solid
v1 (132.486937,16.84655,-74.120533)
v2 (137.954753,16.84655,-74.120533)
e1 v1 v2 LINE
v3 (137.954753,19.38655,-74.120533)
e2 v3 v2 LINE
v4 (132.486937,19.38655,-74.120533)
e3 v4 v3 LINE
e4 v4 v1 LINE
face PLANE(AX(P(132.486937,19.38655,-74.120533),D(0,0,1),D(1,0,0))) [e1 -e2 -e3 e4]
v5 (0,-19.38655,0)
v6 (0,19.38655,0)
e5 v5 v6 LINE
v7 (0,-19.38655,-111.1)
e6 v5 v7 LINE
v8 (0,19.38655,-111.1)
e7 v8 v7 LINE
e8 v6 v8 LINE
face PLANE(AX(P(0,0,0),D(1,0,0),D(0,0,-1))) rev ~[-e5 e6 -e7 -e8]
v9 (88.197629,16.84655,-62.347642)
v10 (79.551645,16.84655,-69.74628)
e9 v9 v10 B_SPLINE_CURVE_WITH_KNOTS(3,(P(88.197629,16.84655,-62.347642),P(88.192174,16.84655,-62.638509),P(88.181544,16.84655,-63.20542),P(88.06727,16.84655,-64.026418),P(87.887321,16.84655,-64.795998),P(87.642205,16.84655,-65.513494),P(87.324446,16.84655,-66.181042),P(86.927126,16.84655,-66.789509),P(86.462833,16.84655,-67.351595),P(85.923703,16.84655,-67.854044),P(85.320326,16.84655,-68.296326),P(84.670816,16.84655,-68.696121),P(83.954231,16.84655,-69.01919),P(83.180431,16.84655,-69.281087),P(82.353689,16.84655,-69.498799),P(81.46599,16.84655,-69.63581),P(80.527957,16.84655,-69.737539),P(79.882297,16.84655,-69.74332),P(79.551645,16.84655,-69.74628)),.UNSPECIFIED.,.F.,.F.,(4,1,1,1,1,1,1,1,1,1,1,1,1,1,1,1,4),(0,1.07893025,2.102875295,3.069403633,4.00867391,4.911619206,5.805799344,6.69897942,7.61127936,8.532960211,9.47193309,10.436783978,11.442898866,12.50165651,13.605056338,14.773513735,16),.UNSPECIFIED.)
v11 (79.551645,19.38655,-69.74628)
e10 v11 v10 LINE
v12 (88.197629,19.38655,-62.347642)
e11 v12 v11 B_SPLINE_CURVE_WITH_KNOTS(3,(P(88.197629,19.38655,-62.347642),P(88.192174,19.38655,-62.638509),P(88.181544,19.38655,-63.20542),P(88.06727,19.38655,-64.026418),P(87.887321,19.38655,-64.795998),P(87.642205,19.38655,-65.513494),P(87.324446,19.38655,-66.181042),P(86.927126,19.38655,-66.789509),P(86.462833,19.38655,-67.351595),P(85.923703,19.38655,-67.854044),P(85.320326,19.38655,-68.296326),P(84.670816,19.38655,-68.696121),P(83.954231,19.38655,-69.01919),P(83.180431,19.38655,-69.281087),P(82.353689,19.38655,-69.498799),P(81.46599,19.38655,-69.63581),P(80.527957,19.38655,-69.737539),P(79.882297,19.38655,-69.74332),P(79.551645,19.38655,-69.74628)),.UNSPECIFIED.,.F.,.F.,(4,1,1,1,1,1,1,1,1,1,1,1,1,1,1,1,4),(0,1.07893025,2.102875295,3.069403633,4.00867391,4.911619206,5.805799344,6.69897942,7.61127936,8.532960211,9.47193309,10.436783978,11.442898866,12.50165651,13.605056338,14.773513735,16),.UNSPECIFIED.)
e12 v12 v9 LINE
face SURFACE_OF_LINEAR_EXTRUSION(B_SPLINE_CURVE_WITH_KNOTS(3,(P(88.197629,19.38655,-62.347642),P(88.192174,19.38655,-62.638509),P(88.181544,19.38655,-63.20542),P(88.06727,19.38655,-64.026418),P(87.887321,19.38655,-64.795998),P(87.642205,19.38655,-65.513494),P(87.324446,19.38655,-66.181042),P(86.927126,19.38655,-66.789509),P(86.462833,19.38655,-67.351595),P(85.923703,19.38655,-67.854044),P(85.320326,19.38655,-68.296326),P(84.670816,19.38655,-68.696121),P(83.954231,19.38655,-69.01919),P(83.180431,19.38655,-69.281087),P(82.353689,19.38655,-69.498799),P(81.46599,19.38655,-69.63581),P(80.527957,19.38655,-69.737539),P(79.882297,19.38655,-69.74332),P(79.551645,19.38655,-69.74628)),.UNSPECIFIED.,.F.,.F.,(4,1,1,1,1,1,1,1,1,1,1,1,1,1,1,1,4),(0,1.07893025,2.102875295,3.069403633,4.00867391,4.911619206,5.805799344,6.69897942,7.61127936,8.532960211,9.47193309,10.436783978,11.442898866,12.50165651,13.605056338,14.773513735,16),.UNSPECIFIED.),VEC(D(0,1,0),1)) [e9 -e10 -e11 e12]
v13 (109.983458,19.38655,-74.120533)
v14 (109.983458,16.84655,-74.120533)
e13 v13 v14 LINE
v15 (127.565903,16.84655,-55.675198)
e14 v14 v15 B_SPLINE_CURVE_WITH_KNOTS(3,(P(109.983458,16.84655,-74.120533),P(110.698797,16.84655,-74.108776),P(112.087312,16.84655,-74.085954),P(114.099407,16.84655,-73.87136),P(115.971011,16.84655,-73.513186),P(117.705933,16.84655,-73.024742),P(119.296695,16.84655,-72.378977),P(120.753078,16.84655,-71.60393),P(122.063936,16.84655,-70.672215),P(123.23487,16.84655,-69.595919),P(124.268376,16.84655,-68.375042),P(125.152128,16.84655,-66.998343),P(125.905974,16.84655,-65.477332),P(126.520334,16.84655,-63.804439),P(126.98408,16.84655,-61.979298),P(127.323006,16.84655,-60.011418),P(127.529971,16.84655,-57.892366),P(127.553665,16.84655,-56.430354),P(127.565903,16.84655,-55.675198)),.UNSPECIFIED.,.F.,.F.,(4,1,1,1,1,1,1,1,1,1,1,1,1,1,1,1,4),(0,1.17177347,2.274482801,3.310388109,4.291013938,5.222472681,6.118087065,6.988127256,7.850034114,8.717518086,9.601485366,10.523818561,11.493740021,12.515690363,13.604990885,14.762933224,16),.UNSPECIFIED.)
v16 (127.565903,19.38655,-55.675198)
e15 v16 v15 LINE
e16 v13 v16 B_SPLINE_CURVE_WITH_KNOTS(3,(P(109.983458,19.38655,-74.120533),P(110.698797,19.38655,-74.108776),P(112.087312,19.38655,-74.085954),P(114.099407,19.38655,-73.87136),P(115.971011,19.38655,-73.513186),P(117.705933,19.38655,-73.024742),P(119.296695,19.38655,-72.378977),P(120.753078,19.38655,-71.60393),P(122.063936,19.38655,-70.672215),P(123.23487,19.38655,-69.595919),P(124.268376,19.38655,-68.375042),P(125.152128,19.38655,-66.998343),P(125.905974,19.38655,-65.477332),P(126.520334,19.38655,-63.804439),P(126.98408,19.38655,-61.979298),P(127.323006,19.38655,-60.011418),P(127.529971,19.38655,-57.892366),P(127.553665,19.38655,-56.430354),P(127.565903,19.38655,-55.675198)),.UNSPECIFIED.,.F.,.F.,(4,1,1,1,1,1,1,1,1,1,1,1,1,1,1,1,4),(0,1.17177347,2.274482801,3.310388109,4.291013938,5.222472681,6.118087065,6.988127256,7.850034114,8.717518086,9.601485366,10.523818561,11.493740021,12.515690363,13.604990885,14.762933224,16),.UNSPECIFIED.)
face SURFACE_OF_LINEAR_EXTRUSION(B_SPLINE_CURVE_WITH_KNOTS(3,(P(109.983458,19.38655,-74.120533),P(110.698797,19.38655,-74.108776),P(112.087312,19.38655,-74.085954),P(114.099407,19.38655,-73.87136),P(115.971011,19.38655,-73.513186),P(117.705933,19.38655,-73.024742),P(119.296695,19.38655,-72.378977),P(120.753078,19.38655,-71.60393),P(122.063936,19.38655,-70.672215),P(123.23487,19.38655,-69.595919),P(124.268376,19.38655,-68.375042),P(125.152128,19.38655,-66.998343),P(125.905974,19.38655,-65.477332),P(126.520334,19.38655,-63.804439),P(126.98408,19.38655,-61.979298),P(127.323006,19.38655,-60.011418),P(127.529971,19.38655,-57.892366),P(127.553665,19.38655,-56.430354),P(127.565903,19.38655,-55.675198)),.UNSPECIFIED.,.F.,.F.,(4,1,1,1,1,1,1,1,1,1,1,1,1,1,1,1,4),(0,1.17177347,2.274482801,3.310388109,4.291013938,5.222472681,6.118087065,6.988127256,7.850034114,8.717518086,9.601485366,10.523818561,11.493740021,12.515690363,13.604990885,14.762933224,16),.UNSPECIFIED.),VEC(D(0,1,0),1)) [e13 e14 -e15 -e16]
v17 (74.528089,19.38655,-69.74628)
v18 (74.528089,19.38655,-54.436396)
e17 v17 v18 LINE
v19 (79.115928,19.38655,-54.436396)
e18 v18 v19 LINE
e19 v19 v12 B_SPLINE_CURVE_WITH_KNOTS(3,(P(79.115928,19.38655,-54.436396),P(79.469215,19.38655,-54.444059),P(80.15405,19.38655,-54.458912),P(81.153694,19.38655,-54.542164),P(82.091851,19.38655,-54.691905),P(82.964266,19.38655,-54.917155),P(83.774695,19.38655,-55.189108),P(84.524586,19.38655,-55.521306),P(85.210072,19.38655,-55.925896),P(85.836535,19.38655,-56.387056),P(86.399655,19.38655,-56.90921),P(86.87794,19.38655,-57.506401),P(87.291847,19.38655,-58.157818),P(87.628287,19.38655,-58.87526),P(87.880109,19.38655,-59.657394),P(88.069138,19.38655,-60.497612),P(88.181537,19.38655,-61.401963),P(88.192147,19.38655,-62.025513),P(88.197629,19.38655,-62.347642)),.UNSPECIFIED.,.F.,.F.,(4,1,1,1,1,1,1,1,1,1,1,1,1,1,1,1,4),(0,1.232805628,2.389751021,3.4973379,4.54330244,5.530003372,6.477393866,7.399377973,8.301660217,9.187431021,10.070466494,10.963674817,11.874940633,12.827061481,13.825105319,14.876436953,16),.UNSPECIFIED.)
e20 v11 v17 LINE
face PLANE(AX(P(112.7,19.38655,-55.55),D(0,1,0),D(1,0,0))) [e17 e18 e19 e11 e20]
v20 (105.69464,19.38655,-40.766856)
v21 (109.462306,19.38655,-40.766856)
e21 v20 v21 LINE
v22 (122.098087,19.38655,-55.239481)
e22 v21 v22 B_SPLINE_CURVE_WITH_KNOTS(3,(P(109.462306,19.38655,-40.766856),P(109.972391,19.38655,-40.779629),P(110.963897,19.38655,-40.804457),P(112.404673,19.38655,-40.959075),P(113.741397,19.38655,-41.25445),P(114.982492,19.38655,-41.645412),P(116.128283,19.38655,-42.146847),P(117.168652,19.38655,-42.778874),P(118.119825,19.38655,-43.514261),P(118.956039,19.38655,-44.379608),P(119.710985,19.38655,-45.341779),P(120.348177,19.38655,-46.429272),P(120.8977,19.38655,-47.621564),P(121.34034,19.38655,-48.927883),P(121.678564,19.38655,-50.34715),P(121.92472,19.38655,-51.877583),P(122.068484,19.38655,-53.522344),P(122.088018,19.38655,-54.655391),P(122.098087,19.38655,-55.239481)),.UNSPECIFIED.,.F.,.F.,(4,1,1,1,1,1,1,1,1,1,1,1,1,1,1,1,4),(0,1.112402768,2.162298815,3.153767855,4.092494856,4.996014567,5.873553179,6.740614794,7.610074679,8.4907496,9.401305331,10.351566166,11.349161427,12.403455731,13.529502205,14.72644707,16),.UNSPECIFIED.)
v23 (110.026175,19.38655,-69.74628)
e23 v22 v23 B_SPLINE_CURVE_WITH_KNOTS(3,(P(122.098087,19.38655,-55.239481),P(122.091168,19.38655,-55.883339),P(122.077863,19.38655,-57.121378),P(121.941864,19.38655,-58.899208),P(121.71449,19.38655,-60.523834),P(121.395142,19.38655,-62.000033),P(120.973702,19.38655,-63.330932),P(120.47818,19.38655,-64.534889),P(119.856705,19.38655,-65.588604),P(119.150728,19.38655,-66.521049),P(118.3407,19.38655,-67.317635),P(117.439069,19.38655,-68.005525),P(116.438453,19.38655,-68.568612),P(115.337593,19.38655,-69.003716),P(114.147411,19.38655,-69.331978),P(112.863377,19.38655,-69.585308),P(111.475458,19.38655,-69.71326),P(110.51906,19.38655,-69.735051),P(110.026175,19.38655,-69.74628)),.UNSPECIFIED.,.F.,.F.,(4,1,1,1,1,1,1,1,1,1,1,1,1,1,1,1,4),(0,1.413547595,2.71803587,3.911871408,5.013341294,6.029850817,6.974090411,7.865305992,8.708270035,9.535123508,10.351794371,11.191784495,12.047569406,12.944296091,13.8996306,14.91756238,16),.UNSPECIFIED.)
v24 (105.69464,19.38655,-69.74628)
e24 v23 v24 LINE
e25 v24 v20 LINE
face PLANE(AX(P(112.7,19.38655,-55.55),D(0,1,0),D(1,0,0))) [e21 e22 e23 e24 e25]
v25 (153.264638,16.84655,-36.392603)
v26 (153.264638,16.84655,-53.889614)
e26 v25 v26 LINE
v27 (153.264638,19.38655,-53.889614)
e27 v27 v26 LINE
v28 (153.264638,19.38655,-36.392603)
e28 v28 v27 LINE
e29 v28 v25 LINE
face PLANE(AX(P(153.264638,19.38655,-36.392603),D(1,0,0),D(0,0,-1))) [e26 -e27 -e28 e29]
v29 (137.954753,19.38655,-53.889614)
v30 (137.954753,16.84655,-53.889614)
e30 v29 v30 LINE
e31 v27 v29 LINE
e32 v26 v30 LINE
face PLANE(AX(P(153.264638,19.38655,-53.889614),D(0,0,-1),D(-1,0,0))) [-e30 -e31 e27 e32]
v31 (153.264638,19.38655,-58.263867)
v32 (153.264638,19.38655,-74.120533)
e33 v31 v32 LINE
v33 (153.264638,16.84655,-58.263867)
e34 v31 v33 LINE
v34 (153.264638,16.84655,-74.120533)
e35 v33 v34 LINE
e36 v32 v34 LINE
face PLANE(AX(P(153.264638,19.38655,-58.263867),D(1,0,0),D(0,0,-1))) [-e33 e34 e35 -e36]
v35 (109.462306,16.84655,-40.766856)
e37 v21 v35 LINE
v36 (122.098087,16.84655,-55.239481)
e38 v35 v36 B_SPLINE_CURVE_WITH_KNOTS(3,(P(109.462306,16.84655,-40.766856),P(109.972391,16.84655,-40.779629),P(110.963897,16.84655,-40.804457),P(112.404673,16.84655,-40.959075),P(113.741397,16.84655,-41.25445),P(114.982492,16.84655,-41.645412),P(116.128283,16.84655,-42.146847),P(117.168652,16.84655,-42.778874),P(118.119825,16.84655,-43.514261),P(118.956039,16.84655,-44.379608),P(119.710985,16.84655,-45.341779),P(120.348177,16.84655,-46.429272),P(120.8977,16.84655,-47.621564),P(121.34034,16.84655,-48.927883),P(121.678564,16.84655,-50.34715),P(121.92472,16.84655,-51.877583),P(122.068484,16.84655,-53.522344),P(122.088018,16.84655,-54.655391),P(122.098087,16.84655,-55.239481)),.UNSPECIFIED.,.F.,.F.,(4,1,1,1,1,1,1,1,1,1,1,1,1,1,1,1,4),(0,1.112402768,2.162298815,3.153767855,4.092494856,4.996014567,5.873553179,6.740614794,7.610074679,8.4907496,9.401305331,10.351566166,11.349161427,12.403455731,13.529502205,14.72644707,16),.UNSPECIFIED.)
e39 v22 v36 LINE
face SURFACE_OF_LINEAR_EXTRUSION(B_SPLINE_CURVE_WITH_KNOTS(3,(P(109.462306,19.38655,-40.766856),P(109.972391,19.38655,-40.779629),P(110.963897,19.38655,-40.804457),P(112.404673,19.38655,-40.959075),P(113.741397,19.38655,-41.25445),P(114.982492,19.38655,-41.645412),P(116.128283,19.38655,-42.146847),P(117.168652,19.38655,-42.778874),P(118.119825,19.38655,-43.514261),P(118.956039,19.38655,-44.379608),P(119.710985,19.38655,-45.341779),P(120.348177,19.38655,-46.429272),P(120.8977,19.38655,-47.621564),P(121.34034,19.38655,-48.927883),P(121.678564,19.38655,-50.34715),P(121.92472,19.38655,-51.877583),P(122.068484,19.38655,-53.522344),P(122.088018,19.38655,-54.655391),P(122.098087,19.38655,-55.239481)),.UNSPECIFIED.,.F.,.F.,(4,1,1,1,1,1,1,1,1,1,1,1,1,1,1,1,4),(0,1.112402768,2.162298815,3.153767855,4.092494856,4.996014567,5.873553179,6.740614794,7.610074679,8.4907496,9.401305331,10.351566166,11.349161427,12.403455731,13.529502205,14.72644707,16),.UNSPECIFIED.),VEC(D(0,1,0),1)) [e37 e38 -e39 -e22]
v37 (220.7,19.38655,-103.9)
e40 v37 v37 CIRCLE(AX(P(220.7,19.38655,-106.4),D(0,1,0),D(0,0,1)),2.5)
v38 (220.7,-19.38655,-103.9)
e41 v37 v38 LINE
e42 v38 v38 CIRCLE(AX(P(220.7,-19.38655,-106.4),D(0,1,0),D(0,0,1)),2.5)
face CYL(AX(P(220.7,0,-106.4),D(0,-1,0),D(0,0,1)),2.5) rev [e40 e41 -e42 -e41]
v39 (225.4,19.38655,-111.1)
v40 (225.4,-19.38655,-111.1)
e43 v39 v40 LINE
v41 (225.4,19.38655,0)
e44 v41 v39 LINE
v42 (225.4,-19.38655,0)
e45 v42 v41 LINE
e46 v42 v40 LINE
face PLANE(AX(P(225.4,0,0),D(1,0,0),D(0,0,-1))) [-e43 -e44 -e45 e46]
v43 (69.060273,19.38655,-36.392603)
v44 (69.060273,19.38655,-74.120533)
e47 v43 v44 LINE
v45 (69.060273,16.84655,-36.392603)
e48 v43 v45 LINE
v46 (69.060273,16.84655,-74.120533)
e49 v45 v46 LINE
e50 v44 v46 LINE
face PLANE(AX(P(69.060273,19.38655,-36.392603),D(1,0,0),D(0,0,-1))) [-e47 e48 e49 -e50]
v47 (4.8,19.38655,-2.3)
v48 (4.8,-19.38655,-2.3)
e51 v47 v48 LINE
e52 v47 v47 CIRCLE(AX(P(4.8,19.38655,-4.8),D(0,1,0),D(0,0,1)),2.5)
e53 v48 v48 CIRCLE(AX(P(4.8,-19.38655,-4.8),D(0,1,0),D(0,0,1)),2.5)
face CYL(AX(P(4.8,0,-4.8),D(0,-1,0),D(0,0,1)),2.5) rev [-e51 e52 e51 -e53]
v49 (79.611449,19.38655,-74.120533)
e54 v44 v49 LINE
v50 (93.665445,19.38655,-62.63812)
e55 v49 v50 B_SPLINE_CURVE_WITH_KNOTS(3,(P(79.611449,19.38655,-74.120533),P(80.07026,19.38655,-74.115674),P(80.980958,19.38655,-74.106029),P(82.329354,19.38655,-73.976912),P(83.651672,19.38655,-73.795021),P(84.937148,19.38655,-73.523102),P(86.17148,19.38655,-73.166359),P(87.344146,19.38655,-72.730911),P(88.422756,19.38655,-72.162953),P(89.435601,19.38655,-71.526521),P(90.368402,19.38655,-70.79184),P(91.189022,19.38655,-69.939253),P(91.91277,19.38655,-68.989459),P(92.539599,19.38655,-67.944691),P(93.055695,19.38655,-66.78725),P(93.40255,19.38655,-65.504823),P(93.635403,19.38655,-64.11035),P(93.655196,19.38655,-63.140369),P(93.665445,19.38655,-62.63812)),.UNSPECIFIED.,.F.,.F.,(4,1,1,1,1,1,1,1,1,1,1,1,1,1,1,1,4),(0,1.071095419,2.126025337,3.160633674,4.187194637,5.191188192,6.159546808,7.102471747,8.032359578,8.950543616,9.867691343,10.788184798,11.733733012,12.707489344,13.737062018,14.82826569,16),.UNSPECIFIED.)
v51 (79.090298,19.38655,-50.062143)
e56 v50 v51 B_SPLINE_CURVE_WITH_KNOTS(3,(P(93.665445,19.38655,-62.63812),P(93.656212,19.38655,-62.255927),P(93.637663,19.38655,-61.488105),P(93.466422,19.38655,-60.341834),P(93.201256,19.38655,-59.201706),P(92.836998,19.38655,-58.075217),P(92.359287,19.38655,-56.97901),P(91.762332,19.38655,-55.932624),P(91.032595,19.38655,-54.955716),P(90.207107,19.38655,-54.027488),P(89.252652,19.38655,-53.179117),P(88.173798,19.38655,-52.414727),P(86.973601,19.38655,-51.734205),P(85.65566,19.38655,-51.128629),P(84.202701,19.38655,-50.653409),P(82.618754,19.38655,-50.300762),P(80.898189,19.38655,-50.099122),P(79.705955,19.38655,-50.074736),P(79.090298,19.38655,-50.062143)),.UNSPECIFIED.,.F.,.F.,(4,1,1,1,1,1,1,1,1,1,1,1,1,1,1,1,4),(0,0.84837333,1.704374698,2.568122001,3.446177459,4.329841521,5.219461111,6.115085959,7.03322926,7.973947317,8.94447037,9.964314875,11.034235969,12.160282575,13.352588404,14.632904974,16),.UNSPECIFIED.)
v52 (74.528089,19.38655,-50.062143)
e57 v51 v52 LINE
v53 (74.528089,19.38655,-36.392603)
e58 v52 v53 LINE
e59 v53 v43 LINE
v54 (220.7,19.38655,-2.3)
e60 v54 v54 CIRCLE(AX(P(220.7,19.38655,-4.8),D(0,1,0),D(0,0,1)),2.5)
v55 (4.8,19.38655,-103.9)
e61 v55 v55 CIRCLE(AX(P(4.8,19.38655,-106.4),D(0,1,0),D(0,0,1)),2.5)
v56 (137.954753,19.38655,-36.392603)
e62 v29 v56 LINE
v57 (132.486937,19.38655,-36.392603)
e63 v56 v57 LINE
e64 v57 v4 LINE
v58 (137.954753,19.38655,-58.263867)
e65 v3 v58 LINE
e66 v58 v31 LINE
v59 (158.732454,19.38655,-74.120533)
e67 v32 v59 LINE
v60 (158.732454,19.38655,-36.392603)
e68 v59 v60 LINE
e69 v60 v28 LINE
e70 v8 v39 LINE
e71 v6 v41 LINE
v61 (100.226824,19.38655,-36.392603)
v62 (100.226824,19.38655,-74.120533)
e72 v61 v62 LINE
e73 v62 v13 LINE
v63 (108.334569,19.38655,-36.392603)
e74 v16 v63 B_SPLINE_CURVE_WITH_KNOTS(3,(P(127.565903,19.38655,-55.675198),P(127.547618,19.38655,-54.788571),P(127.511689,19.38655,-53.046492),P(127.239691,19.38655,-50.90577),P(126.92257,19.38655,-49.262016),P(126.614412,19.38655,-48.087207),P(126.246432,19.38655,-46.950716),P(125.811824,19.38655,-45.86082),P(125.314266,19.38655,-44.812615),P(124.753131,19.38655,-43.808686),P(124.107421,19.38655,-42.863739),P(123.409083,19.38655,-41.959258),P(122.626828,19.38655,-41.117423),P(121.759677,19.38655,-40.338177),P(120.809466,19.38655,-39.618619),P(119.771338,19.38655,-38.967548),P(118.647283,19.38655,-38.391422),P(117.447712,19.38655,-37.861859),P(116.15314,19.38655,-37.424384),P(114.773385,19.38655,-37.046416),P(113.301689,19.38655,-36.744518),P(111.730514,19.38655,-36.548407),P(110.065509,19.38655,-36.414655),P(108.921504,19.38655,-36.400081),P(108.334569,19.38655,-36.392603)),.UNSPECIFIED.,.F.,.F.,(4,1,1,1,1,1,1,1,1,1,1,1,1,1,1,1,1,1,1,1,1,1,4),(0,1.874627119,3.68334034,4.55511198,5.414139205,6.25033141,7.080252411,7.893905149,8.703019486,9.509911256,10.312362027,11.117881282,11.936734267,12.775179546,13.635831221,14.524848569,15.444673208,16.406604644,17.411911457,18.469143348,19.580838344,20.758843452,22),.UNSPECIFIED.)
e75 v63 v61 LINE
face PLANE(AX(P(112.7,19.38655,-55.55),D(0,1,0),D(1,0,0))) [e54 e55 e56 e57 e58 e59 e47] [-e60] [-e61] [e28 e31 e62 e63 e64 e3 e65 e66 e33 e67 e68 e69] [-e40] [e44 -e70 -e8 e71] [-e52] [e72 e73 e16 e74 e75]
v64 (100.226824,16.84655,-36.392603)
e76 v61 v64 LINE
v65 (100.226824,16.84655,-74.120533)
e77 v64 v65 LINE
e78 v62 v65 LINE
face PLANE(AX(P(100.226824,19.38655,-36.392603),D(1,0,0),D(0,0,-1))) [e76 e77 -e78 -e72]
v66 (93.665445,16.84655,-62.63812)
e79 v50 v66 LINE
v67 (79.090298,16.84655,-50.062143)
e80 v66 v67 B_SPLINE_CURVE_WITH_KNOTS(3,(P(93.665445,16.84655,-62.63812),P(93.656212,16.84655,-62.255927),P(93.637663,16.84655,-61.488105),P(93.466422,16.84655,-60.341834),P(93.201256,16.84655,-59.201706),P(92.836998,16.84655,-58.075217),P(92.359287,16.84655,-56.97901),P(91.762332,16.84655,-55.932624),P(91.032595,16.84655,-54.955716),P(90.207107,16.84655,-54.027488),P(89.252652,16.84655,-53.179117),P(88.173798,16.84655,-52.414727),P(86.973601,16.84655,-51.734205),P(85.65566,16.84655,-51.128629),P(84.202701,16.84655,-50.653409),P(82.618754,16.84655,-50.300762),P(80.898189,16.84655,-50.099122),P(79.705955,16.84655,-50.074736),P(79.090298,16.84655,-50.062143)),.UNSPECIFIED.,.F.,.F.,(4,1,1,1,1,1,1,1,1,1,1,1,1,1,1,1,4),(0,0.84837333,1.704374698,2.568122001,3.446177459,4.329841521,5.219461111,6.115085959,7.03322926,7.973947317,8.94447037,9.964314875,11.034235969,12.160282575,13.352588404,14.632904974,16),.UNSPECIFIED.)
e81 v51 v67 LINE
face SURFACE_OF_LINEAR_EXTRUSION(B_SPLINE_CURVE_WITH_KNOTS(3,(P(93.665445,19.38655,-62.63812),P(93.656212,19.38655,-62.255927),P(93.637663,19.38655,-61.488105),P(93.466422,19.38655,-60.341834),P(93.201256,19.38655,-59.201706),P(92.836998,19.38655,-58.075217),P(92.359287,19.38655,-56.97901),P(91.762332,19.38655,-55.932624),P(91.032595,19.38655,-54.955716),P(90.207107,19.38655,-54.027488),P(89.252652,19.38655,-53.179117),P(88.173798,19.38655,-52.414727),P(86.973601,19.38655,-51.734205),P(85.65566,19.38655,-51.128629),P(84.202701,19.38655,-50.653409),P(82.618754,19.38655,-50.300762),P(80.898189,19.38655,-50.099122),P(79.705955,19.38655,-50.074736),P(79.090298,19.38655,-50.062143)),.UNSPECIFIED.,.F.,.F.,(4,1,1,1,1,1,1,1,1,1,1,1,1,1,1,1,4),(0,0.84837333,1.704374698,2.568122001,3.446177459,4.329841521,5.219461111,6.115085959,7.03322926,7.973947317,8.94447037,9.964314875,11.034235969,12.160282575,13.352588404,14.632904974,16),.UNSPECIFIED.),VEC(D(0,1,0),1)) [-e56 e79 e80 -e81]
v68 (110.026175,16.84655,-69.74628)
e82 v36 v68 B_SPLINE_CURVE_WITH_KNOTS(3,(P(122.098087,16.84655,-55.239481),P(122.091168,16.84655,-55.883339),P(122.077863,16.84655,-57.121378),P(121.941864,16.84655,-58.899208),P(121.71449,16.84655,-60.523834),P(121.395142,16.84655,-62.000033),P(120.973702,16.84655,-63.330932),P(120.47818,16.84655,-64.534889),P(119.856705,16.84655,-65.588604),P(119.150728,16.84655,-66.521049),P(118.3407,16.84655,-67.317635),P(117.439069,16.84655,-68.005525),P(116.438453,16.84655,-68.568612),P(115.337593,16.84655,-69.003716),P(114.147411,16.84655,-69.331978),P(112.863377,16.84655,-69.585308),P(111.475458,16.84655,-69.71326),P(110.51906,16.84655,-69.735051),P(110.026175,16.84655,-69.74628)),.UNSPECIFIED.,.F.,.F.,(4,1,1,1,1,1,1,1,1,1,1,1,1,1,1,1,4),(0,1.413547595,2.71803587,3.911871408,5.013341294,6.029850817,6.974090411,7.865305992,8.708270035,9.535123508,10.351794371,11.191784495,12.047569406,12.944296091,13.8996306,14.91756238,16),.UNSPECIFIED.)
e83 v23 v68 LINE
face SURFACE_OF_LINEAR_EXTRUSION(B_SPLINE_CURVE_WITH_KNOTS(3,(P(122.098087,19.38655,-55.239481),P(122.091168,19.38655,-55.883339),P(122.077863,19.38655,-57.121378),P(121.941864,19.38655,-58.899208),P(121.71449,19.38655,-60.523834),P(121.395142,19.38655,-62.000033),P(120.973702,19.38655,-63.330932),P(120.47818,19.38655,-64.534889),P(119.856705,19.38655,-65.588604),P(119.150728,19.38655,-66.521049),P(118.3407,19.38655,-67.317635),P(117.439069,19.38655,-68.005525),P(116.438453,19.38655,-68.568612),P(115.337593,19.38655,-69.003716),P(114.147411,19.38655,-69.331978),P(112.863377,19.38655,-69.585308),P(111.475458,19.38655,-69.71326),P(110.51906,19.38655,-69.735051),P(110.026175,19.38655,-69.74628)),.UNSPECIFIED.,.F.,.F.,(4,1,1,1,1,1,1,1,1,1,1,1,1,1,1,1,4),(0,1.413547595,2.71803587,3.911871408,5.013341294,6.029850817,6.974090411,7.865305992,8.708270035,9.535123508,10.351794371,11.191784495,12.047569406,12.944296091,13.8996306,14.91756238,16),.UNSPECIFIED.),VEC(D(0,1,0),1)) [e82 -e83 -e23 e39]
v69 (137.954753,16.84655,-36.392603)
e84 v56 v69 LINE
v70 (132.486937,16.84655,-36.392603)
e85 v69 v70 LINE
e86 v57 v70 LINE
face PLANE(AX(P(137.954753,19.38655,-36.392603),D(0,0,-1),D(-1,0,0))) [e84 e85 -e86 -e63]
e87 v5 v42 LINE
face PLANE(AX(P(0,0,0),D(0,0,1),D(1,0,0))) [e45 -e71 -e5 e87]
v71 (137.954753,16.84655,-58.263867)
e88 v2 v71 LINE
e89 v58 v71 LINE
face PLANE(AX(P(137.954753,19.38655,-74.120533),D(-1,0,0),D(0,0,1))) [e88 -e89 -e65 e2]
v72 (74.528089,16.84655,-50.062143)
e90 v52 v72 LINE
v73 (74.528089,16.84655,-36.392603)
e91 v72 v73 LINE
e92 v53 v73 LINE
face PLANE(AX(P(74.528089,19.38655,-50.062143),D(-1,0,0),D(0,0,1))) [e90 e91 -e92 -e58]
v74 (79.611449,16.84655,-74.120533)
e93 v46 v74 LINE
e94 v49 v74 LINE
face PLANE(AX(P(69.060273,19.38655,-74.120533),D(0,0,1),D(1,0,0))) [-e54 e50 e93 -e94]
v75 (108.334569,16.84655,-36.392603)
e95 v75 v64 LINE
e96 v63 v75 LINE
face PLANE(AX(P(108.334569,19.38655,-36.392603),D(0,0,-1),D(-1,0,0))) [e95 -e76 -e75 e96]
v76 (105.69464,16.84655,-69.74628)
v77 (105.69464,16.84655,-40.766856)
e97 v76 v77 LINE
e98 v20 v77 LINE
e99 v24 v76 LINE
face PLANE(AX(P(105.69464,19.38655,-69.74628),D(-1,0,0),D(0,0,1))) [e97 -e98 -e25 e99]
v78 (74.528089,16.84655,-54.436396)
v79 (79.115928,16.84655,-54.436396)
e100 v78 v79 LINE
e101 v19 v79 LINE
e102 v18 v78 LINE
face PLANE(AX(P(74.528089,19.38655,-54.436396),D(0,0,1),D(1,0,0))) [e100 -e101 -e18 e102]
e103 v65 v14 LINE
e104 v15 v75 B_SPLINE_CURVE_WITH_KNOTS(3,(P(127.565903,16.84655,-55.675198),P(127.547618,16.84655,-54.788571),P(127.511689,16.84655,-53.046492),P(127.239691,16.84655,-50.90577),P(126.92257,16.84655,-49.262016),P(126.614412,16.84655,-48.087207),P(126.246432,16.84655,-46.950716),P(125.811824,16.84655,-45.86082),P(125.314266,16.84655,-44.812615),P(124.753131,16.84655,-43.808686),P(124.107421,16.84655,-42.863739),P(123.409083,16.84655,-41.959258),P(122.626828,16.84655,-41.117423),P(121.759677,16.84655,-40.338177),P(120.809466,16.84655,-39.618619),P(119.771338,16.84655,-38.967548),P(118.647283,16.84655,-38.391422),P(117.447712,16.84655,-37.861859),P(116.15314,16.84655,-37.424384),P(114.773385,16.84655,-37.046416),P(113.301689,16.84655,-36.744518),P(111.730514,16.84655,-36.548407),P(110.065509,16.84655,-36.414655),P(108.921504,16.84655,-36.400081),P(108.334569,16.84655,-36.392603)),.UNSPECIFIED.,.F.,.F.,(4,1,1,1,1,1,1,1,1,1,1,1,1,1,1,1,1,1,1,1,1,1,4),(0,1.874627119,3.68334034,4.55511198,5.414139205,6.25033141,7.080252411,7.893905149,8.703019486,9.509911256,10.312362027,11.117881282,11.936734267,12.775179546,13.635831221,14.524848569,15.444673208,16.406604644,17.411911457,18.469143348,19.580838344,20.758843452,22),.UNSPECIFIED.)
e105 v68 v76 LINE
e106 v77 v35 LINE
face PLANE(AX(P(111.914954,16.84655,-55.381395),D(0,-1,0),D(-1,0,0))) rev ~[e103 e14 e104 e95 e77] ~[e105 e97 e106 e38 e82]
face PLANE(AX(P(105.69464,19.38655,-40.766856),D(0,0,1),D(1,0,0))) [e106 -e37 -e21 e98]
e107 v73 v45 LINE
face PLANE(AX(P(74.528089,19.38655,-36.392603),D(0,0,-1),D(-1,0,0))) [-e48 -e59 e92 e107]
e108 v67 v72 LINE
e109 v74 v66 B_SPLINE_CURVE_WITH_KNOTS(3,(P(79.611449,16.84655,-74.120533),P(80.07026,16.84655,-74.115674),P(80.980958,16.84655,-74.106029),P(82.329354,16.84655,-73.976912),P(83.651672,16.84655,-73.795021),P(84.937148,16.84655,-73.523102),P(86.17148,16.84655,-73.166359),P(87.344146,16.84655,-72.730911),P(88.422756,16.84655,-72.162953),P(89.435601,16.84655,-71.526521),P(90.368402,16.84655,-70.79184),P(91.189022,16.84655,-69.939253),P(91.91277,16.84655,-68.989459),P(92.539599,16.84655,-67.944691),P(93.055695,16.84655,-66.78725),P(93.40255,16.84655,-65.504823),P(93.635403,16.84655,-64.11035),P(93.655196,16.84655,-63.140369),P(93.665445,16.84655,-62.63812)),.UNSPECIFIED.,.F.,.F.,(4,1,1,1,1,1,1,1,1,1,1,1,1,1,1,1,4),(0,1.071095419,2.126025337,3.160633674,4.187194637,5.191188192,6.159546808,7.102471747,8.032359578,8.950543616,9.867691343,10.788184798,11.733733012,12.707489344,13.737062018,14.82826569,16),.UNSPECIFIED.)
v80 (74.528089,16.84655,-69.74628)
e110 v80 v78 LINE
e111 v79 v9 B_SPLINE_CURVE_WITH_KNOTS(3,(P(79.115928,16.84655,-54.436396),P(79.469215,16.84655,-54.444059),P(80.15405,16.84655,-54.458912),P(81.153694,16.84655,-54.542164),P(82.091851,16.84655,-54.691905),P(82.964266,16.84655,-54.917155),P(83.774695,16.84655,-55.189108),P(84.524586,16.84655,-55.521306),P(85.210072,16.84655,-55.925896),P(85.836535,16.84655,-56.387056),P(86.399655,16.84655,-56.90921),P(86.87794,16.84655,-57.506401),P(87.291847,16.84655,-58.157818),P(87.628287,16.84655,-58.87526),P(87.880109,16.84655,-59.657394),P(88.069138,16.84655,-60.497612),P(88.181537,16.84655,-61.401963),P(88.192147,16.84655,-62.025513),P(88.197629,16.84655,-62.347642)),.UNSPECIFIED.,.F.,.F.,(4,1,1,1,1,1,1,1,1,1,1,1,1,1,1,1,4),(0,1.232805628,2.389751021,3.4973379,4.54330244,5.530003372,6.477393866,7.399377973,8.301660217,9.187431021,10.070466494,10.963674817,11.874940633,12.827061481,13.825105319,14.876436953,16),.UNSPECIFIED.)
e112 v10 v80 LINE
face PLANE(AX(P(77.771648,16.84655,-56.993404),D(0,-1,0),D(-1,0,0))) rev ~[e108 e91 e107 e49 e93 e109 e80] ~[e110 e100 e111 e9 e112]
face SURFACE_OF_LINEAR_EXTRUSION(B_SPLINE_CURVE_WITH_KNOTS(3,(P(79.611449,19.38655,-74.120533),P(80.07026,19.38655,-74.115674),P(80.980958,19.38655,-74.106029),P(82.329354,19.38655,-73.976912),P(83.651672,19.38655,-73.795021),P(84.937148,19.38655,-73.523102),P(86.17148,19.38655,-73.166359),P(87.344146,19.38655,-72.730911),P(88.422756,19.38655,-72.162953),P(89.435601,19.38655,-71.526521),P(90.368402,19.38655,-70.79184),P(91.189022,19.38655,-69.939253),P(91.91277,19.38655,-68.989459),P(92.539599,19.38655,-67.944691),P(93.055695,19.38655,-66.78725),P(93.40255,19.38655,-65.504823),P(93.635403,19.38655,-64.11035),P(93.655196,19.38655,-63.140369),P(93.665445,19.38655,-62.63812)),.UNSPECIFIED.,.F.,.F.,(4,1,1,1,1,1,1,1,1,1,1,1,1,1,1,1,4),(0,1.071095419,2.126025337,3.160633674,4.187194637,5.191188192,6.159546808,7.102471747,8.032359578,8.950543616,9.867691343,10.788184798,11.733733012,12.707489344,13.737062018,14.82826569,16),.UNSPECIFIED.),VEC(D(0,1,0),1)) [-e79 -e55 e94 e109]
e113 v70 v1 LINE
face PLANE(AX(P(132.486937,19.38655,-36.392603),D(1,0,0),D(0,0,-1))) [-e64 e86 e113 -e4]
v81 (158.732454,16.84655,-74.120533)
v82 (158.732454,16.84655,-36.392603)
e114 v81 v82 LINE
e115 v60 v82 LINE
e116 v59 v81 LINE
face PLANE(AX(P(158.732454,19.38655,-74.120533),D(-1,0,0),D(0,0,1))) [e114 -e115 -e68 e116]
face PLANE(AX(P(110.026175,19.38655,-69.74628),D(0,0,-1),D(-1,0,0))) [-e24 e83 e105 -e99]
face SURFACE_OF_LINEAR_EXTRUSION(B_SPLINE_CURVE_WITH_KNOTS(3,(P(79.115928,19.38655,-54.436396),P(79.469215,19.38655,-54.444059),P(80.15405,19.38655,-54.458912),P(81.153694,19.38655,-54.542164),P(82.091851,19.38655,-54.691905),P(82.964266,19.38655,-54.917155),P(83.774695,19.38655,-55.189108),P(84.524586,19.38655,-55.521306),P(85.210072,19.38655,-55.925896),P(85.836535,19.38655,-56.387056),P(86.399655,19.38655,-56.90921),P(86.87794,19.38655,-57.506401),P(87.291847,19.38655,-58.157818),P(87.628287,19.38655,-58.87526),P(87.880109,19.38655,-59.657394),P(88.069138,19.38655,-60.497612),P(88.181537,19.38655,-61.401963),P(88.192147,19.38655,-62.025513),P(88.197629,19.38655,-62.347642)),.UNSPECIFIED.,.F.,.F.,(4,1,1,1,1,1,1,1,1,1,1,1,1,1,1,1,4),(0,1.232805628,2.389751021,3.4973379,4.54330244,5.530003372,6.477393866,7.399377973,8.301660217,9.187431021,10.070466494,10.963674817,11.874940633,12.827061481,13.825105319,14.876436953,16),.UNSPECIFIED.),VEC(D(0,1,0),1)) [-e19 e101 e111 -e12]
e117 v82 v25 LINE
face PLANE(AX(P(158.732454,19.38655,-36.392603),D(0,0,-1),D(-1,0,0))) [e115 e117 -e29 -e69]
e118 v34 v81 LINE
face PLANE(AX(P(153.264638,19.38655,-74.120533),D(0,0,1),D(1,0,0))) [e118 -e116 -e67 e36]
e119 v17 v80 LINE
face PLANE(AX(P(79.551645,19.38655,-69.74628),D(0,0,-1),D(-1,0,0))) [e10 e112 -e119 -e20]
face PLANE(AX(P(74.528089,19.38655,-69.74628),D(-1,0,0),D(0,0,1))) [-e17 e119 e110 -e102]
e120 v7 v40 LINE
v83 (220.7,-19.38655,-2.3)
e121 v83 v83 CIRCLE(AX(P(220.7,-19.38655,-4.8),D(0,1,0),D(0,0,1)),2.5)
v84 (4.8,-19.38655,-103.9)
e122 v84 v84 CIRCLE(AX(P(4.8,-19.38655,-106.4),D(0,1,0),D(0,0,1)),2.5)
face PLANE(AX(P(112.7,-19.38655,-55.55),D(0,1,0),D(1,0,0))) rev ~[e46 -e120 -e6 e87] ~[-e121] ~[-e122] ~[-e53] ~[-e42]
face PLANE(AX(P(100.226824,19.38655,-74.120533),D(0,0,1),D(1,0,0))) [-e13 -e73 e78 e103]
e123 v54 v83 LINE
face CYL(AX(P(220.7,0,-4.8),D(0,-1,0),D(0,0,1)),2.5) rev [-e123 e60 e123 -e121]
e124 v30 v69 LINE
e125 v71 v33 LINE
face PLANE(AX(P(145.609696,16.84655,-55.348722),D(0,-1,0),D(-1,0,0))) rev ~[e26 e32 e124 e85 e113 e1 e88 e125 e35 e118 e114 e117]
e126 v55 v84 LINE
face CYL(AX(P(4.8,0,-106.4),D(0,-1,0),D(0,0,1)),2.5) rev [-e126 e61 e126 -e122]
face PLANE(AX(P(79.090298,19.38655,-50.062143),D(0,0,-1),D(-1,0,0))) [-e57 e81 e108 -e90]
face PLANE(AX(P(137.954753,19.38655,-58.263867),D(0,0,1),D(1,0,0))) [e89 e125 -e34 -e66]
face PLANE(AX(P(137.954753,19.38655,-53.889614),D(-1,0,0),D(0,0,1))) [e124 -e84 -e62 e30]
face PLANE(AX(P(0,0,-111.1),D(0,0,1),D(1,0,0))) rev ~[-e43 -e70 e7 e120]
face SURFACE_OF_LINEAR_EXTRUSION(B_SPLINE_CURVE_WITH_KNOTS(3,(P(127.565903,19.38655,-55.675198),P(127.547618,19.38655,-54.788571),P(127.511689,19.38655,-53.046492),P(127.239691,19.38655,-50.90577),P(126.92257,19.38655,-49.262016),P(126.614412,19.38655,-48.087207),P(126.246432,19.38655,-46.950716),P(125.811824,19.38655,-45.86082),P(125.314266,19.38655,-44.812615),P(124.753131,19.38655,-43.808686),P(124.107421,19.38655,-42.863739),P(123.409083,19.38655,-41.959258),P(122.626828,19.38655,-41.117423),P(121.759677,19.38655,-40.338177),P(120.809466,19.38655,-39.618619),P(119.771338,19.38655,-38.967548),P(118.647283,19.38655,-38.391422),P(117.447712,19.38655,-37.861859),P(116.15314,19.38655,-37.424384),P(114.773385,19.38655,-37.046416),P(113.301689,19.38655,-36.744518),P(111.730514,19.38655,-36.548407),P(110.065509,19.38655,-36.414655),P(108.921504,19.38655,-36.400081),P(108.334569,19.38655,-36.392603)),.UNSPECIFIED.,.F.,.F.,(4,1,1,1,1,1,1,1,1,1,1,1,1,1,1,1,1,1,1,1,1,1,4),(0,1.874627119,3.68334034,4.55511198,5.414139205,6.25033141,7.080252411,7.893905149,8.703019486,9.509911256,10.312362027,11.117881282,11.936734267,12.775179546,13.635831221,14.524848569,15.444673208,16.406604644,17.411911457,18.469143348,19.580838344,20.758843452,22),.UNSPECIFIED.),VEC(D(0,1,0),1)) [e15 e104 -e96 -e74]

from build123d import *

# Parameters (mm, degrees)
SKETCH1_W           = 225.40000005
SKETCH1_H           = 111.10000005
SKETCH1_R           = 2.499999953
BOSS_EXTRUDE1_DEPTH = 19.38655
CUT_EXTRUDE1_DEPTH  = 2.54


with BuildPart() as part:
    # Sketch1 → Boss-Extrude1 (new, symmetric)
    with BuildSketch(Plane(origin=(0, 0, 0), x_dir=(1, 0, 0), z_dir=(0, 1, 0))):
        with Locations((112.700000025, 55.550000025)):
            Rectangle(SKETCH1_W, SKETCH1_H)
        with Locations(Location((4.800000052, 4.800000052, 0), (0, 0, 270))):
            Circle(SKETCH1_R, mode=Mode.SUBTRACT)
        with Locations(Location((4.800000052, 106.400000052, 0), (0, 0, 270))):
            Circle(SKETCH1_R, mode=Mode.SUBTRACT)
        with Locations(Location((220.700000052, 106.400000052, 0), (0, 0, 270))):
            Circle(SKETCH1_R, mode=Mode.SUBTRACT)
        with Locations(Location((220.700000052, 4.800000052, 0), (0, 0, 270))):
            Circle(SKETCH1_R, mode=Mode.SUBTRACT)
    extrude(amount=BOSS_EXTRUDE1_DEPTH, both=True)

    # Sketch2 → Cut-Extrude1 (cut)
    # profile 1 of 3: a face of its own
    with BuildSketch(Plane(origin=(0, 19.38655, 0), x_dir=(1, 0, 0), z_dir=(0, 1, 0))):
        with BuildLine():
            add(Edge.make_bspline(
                [(93.6654446, 62.638119725), (93.65621175, 62.255926888), (93.637663033, 61.488104777), (93.466421809, 60.341834085), (93.201255703, 59.201705874), (92.836997723, 58.075217304), (92.359286935, 56.979010165), (91.762331794, 55.932624231), (91.032595392, 54.955716054), (90.207106522, 54.027487516), (89.252652089, 53.179116743), (88.173798237, 52.414727304), (86.973600637, 51.734204765), (85.655660468, 51.128628725), (84.202701193, 50.653409294), (82.618753702, 50.300761726), (80.898189452, 50.099121533), (79.705954978, 50.07473573), (79.09029785, 50.062143162)],
                knots=[0, 0, 0, 0, 0.84837333, 1.704374698, 2.568122001, 3.446177459, 4.329841521, 5.219461111, 6.115085959, 7.03322926, 7.973947317, 8.94447037, 9.964314875, 11.034235969, 12.160282575, 13.352588404, 14.632904974, 16, 16, 16, 16], degree=3))
            Line((79.09029785, 50.062143162), (74.528088962, 50.062143162))
            Line((74.528088962, 50.062143162), (74.528088962, 36.39260342))
            Line((74.528088962, 36.39260342), (69.060273065, 36.39260342))
            Line((69.060273065, 36.39260342), (69.060273065, 74.120533108))
            Line((69.060273065, 74.120533108), (79.611449053, 74.120533108))
            add(Edge.make_bspline(
                [(79.611449053, 74.120533108), (80.070260309, 74.115673927), (80.980958213, 74.106028903), (82.329353652, 73.976911734), (83.651671763, 73.795021467), (84.937147693, 73.523102459), (86.171480276, 73.166358976), (87.344146306, 72.730911072), (88.422755699, 72.162952721), (89.43560104, 71.526521333), (90.368402205, 70.791840353), (91.189022047, 69.939252772), (91.912770344, 68.989458848), (92.539599198, 67.944691466), (93.055694596, 66.787250357), (93.402550005, 65.504823346), (93.635402669, 64.110350409), (93.655195832, 63.140369447), (93.6654446, 62.638119725)],
                knots=[0, 0, 0, 0, 1.071095419, 2.126025337, 3.160633674, 4.187194637, 5.191188192, 6.159546808, 7.102471747, 8.032359578, 8.950543616, 9.867691343, 10.788184798, 11.733733012, 12.707489344, 13.737062018, 14.82826569, 16, 16, 16, 16], degree=3))
        make_face()
        with BuildLine():
            add(Edge.make_bspline(
                [(88.197628703, 62.347642005), (88.192174404, 62.63850916), (88.18154377, 63.205420092), (88.067270065, 64.026417972), (87.887321266, 64.795998376), (87.642204989, 65.513494356), (87.324445545, 66.181041679), (86.9271256, 66.789508742), (86.462833318, 67.351595169), (85.92370252, 67.854044286), (85.320326107, 68.296325862), (84.670815804, 68.696121206), (83.954231053, 69.019190265), (83.180431142, 69.281086893), (82.353689397, 69.498799431), (81.465989989, 69.635809834), (80.527957319, 69.737538529), (79.882297045, 69.743319744), (79.551644817, 69.74628039)],
                knots=[0, 0, 0, 0, 1.07893025, 2.102875295, 3.069403633, 4.00867391, 4.911619206, 5.805799344, 6.69897942, 7.61127936, 8.532960211, 9.47193309, 10.436783978, 11.442898866, 12.50165651, 13.605056338, 14.773513735, 16, 16, 16, 16], degree=3))
            Line((79.551644817, 69.74628039), (74.528088962, 69.74628039))
            Line((74.528088962, 69.74628039), (74.528088962, 54.43639588))
            Line((74.528088962, 54.43639588), (79.115928237, 54.43639588))
            add(Edge.make_bspline(
                [(79.115928237, 54.43639588), (79.469215163, 54.444058583), (80.154049634, 54.458912469), (81.153694325, 54.542163566), (82.091850755, 54.691905292), (82.964265919, 54.917155421), (83.774695488, 55.18910777), (84.524586407, 55.521306188), (85.210072438, 55.925895812), (85.836535364, 56.387055958), (86.399655255, 56.909209561), (86.877940326, 57.506401351), (87.291847487, 58.157818385), (87.628287432, 58.875259995), (87.880108968, 59.657394144), (88.069138486, 60.497611643), (88.18153711, 61.401962584), (88.192147378, 62.025512532), (88.197628703, 62.347642005)],
                knots=[0, 0, 0, 0, 1.232805628, 2.389751021, 3.4973379, 4.54330244, 5.530003372, 6.477393866, 7.399377973, 8.301660217, 9.187431021, 10.070466494, 10.963674817, 11.874940633, 12.827061481, 13.825105319, 14.876436953, 16, 16, 16, 16], degree=3))
        make_face(mode=Mode.SUBTRACT)
    # profile 2 of 3: a face of its own
    with BuildSketch(Plane(origin=(0, 19.38655, 0), x_dir=(1, 0, 0), z_dir=(0, 1, 0))):
        with BuildLine():
            add(Edge.make_bspline(
                [(127.56590316, 55.675197919), (127.547617612, 54.78857119), (127.511689457, 53.046492477), (127.23969054, 50.905769989), (126.922569652, 49.262016243), (126.614411717, 48.087206761), (126.246431872, 46.950715858), (125.811824352, 45.860819894), (125.314265868, 44.812615172), (124.753130965, 43.8086857), (124.107420568, 42.863739226), (123.409082848, 41.959258432), (122.626828334, 41.117422828), (121.7596775, 40.338177311), (120.809466051, 39.618619159), (119.771337822, 38.967548349), (118.647283346, 38.391422091), (117.447711896, 37.861858683), (116.153140186, 37.424384305), (114.773384937, 37.046415803), (113.301688648, 36.744518404), (111.730514486, 36.548407326), (110.065508535, 36.414654635), (108.921503761, 36.400080642), (108.334569436, 36.39260342)],
                knots=[0, 0, 0, 0, 1.874627119, 3.68334034, 4.55511198, 5.414139205, 6.25033141, 7.080252411, 7.893905149, 8.703019486, 9.509911256, 10.312362027, 11.117881282, 11.936734267, 12.775179546, 13.635831221, 14.524848569, 15.444673208, 16.406604644, 17.411911457, 18.469143348, 19.580838344, 20.758843452, 22, 22, 22, 22], degree=3))
            Line((108.334569436, 36.39260342), (100.226823676, 36.39260342))
            Line((100.226823676, 36.39260342), (100.226823676, 74.120533108))
            Line((100.226823676, 74.120533108), (109.983457667, 74.120533108))
            add(Edge.make_bspline(
                [(109.983457667, 74.120533108), (110.698796565, 74.108775888), (112.087312401, 74.085954417), (114.099407103, 73.871359676), (115.971010991, 73.513186255), (117.705932553, 73.024742171), (119.296694788, 72.37897733), (120.753078111, 71.603929555), (122.063935524, 70.672214529), (123.234870408, 69.595919293), (124.268375898, 68.375042443), (125.15212849, 66.998343044), (125.905974417, 65.477332321), (126.520334079, 63.804439371), (126.984079723, 61.979297568), (127.323005556, 60.011417912), (127.529971236, 57.892365797), (127.553664927, 56.430354144), (127.56590316, 55.675197919)],
                knots=[0, 0, 0, 0, 1.17177347, 2.274482801, 3.310388109, 4.291013938, 5.222472681, 6.118087065, 6.988127256, 7.850034114, 8.717518086, 9.601485366, 10.523818561, 11.493740021, 12.515690363, 13.604990885, 14.762933224, 16, 16, 16, 16], degree=3))
        make_face()
        with BuildLine():
            add(Edge.make_bspline(
                [(122.098087263, 55.239481339), (122.091167759, 55.883338842), (122.07786261, 57.121378364), (121.941863816, 58.899207539), (121.714490077, 60.523833747), (121.395141619, 62.00003254), (120.973701982, 63.330931753), (120.478179626, 64.534888844), (119.856705316, 65.588603714), (119.150728012, 66.521049001), (118.340699821, 67.317635038), (117.439068976, 68.005524695), (116.438452675, 68.568612468), (115.337592989, 69.003716428), (114.147410598, 69.331977904), (112.863376849, 69.585308184), (111.475458259, 69.713259964), (110.519060263, 69.735050507), (110.026174979, 69.74628039)],
                knots=[0, 0, 0, 0, 1.413547595, 2.71803587, 3.911871408, 5.013341294, 6.029850817, 6.974090411, 7.865305992, 8.708270035, 9.535123508, 10.351794371, 11.191784495, 12.047569406, 12.944296091, 13.8996306, 14.91756238, 16, 16, 16, 16], degree=3))
            Line((110.026174979, 69.74628039), (105.694639573, 69.74628039))
            Line((105.694639573, 69.74628039), (105.694639573, 40.766856138))
            Line((105.694639573, 40.766856138), (109.462306464, 40.766856138))
            add(Edge.make_bspline(
                [(109.462306464, 40.766856138), (109.972390662, 40.779628967), (110.963897054, 40.804456912), (112.404673192, 40.959074575), (113.741396992, 41.254449715), (114.982492322, 41.645412228), (116.128283102, 42.146846942), (117.168651881, 42.778873861), (118.119824521, 43.514260641), (118.95603885, 44.379608434), (119.710984868, 45.341779056), (120.348177326, 46.429272224), (120.897700383, 47.621563924), (121.340339899, 48.927882581), (121.678563879, 50.347150333), (121.924720399, 51.877582623), (122.068484344, 53.522343822), (122.088017719, 54.655390557), (122.098087263, 55.239481339)],
                knots=[0, 0, 0, 0, 1.112402768, 2.162298815, 3.153767855, 4.092494856, 4.996014567, 5.873553179, 6.740614794, 7.610074679, 8.4907496, 9.401305331, 10.351566166, 11.349161427, 12.403455731, 13.529502205, 14.72644707, 16, 16, 16, 16], degree=3))
        make_face(mode=Mode.SUBTRACT)
    # profile 3 of 3: a face of its own
    with BuildSketch(Plane(origin=(0, 19.38655, 0), x_dir=(1, 0, 0), z_dir=(0, 1, 0))):
        Polygon((158.732453771, 36.39260342), (153.264637875, 36.39260342), (153.264637875, 53.88961429), (137.954753364, 53.88961429), (137.954753364, 36.39260342), (132.486937467, 36.39260342), (132.486937467, 74.120533108), (137.954753364, 74.120533108), (137.954753364, 58.263867007), (153.264637875, 58.263867007), (153.264637875, 74.120533108), (158.732453771, 74.120533108), align=None)
    extrude(amount=-CUT_EXTRUDE1_DEPTH, mode=Mode.SUBTRACT)


solid = part.part
